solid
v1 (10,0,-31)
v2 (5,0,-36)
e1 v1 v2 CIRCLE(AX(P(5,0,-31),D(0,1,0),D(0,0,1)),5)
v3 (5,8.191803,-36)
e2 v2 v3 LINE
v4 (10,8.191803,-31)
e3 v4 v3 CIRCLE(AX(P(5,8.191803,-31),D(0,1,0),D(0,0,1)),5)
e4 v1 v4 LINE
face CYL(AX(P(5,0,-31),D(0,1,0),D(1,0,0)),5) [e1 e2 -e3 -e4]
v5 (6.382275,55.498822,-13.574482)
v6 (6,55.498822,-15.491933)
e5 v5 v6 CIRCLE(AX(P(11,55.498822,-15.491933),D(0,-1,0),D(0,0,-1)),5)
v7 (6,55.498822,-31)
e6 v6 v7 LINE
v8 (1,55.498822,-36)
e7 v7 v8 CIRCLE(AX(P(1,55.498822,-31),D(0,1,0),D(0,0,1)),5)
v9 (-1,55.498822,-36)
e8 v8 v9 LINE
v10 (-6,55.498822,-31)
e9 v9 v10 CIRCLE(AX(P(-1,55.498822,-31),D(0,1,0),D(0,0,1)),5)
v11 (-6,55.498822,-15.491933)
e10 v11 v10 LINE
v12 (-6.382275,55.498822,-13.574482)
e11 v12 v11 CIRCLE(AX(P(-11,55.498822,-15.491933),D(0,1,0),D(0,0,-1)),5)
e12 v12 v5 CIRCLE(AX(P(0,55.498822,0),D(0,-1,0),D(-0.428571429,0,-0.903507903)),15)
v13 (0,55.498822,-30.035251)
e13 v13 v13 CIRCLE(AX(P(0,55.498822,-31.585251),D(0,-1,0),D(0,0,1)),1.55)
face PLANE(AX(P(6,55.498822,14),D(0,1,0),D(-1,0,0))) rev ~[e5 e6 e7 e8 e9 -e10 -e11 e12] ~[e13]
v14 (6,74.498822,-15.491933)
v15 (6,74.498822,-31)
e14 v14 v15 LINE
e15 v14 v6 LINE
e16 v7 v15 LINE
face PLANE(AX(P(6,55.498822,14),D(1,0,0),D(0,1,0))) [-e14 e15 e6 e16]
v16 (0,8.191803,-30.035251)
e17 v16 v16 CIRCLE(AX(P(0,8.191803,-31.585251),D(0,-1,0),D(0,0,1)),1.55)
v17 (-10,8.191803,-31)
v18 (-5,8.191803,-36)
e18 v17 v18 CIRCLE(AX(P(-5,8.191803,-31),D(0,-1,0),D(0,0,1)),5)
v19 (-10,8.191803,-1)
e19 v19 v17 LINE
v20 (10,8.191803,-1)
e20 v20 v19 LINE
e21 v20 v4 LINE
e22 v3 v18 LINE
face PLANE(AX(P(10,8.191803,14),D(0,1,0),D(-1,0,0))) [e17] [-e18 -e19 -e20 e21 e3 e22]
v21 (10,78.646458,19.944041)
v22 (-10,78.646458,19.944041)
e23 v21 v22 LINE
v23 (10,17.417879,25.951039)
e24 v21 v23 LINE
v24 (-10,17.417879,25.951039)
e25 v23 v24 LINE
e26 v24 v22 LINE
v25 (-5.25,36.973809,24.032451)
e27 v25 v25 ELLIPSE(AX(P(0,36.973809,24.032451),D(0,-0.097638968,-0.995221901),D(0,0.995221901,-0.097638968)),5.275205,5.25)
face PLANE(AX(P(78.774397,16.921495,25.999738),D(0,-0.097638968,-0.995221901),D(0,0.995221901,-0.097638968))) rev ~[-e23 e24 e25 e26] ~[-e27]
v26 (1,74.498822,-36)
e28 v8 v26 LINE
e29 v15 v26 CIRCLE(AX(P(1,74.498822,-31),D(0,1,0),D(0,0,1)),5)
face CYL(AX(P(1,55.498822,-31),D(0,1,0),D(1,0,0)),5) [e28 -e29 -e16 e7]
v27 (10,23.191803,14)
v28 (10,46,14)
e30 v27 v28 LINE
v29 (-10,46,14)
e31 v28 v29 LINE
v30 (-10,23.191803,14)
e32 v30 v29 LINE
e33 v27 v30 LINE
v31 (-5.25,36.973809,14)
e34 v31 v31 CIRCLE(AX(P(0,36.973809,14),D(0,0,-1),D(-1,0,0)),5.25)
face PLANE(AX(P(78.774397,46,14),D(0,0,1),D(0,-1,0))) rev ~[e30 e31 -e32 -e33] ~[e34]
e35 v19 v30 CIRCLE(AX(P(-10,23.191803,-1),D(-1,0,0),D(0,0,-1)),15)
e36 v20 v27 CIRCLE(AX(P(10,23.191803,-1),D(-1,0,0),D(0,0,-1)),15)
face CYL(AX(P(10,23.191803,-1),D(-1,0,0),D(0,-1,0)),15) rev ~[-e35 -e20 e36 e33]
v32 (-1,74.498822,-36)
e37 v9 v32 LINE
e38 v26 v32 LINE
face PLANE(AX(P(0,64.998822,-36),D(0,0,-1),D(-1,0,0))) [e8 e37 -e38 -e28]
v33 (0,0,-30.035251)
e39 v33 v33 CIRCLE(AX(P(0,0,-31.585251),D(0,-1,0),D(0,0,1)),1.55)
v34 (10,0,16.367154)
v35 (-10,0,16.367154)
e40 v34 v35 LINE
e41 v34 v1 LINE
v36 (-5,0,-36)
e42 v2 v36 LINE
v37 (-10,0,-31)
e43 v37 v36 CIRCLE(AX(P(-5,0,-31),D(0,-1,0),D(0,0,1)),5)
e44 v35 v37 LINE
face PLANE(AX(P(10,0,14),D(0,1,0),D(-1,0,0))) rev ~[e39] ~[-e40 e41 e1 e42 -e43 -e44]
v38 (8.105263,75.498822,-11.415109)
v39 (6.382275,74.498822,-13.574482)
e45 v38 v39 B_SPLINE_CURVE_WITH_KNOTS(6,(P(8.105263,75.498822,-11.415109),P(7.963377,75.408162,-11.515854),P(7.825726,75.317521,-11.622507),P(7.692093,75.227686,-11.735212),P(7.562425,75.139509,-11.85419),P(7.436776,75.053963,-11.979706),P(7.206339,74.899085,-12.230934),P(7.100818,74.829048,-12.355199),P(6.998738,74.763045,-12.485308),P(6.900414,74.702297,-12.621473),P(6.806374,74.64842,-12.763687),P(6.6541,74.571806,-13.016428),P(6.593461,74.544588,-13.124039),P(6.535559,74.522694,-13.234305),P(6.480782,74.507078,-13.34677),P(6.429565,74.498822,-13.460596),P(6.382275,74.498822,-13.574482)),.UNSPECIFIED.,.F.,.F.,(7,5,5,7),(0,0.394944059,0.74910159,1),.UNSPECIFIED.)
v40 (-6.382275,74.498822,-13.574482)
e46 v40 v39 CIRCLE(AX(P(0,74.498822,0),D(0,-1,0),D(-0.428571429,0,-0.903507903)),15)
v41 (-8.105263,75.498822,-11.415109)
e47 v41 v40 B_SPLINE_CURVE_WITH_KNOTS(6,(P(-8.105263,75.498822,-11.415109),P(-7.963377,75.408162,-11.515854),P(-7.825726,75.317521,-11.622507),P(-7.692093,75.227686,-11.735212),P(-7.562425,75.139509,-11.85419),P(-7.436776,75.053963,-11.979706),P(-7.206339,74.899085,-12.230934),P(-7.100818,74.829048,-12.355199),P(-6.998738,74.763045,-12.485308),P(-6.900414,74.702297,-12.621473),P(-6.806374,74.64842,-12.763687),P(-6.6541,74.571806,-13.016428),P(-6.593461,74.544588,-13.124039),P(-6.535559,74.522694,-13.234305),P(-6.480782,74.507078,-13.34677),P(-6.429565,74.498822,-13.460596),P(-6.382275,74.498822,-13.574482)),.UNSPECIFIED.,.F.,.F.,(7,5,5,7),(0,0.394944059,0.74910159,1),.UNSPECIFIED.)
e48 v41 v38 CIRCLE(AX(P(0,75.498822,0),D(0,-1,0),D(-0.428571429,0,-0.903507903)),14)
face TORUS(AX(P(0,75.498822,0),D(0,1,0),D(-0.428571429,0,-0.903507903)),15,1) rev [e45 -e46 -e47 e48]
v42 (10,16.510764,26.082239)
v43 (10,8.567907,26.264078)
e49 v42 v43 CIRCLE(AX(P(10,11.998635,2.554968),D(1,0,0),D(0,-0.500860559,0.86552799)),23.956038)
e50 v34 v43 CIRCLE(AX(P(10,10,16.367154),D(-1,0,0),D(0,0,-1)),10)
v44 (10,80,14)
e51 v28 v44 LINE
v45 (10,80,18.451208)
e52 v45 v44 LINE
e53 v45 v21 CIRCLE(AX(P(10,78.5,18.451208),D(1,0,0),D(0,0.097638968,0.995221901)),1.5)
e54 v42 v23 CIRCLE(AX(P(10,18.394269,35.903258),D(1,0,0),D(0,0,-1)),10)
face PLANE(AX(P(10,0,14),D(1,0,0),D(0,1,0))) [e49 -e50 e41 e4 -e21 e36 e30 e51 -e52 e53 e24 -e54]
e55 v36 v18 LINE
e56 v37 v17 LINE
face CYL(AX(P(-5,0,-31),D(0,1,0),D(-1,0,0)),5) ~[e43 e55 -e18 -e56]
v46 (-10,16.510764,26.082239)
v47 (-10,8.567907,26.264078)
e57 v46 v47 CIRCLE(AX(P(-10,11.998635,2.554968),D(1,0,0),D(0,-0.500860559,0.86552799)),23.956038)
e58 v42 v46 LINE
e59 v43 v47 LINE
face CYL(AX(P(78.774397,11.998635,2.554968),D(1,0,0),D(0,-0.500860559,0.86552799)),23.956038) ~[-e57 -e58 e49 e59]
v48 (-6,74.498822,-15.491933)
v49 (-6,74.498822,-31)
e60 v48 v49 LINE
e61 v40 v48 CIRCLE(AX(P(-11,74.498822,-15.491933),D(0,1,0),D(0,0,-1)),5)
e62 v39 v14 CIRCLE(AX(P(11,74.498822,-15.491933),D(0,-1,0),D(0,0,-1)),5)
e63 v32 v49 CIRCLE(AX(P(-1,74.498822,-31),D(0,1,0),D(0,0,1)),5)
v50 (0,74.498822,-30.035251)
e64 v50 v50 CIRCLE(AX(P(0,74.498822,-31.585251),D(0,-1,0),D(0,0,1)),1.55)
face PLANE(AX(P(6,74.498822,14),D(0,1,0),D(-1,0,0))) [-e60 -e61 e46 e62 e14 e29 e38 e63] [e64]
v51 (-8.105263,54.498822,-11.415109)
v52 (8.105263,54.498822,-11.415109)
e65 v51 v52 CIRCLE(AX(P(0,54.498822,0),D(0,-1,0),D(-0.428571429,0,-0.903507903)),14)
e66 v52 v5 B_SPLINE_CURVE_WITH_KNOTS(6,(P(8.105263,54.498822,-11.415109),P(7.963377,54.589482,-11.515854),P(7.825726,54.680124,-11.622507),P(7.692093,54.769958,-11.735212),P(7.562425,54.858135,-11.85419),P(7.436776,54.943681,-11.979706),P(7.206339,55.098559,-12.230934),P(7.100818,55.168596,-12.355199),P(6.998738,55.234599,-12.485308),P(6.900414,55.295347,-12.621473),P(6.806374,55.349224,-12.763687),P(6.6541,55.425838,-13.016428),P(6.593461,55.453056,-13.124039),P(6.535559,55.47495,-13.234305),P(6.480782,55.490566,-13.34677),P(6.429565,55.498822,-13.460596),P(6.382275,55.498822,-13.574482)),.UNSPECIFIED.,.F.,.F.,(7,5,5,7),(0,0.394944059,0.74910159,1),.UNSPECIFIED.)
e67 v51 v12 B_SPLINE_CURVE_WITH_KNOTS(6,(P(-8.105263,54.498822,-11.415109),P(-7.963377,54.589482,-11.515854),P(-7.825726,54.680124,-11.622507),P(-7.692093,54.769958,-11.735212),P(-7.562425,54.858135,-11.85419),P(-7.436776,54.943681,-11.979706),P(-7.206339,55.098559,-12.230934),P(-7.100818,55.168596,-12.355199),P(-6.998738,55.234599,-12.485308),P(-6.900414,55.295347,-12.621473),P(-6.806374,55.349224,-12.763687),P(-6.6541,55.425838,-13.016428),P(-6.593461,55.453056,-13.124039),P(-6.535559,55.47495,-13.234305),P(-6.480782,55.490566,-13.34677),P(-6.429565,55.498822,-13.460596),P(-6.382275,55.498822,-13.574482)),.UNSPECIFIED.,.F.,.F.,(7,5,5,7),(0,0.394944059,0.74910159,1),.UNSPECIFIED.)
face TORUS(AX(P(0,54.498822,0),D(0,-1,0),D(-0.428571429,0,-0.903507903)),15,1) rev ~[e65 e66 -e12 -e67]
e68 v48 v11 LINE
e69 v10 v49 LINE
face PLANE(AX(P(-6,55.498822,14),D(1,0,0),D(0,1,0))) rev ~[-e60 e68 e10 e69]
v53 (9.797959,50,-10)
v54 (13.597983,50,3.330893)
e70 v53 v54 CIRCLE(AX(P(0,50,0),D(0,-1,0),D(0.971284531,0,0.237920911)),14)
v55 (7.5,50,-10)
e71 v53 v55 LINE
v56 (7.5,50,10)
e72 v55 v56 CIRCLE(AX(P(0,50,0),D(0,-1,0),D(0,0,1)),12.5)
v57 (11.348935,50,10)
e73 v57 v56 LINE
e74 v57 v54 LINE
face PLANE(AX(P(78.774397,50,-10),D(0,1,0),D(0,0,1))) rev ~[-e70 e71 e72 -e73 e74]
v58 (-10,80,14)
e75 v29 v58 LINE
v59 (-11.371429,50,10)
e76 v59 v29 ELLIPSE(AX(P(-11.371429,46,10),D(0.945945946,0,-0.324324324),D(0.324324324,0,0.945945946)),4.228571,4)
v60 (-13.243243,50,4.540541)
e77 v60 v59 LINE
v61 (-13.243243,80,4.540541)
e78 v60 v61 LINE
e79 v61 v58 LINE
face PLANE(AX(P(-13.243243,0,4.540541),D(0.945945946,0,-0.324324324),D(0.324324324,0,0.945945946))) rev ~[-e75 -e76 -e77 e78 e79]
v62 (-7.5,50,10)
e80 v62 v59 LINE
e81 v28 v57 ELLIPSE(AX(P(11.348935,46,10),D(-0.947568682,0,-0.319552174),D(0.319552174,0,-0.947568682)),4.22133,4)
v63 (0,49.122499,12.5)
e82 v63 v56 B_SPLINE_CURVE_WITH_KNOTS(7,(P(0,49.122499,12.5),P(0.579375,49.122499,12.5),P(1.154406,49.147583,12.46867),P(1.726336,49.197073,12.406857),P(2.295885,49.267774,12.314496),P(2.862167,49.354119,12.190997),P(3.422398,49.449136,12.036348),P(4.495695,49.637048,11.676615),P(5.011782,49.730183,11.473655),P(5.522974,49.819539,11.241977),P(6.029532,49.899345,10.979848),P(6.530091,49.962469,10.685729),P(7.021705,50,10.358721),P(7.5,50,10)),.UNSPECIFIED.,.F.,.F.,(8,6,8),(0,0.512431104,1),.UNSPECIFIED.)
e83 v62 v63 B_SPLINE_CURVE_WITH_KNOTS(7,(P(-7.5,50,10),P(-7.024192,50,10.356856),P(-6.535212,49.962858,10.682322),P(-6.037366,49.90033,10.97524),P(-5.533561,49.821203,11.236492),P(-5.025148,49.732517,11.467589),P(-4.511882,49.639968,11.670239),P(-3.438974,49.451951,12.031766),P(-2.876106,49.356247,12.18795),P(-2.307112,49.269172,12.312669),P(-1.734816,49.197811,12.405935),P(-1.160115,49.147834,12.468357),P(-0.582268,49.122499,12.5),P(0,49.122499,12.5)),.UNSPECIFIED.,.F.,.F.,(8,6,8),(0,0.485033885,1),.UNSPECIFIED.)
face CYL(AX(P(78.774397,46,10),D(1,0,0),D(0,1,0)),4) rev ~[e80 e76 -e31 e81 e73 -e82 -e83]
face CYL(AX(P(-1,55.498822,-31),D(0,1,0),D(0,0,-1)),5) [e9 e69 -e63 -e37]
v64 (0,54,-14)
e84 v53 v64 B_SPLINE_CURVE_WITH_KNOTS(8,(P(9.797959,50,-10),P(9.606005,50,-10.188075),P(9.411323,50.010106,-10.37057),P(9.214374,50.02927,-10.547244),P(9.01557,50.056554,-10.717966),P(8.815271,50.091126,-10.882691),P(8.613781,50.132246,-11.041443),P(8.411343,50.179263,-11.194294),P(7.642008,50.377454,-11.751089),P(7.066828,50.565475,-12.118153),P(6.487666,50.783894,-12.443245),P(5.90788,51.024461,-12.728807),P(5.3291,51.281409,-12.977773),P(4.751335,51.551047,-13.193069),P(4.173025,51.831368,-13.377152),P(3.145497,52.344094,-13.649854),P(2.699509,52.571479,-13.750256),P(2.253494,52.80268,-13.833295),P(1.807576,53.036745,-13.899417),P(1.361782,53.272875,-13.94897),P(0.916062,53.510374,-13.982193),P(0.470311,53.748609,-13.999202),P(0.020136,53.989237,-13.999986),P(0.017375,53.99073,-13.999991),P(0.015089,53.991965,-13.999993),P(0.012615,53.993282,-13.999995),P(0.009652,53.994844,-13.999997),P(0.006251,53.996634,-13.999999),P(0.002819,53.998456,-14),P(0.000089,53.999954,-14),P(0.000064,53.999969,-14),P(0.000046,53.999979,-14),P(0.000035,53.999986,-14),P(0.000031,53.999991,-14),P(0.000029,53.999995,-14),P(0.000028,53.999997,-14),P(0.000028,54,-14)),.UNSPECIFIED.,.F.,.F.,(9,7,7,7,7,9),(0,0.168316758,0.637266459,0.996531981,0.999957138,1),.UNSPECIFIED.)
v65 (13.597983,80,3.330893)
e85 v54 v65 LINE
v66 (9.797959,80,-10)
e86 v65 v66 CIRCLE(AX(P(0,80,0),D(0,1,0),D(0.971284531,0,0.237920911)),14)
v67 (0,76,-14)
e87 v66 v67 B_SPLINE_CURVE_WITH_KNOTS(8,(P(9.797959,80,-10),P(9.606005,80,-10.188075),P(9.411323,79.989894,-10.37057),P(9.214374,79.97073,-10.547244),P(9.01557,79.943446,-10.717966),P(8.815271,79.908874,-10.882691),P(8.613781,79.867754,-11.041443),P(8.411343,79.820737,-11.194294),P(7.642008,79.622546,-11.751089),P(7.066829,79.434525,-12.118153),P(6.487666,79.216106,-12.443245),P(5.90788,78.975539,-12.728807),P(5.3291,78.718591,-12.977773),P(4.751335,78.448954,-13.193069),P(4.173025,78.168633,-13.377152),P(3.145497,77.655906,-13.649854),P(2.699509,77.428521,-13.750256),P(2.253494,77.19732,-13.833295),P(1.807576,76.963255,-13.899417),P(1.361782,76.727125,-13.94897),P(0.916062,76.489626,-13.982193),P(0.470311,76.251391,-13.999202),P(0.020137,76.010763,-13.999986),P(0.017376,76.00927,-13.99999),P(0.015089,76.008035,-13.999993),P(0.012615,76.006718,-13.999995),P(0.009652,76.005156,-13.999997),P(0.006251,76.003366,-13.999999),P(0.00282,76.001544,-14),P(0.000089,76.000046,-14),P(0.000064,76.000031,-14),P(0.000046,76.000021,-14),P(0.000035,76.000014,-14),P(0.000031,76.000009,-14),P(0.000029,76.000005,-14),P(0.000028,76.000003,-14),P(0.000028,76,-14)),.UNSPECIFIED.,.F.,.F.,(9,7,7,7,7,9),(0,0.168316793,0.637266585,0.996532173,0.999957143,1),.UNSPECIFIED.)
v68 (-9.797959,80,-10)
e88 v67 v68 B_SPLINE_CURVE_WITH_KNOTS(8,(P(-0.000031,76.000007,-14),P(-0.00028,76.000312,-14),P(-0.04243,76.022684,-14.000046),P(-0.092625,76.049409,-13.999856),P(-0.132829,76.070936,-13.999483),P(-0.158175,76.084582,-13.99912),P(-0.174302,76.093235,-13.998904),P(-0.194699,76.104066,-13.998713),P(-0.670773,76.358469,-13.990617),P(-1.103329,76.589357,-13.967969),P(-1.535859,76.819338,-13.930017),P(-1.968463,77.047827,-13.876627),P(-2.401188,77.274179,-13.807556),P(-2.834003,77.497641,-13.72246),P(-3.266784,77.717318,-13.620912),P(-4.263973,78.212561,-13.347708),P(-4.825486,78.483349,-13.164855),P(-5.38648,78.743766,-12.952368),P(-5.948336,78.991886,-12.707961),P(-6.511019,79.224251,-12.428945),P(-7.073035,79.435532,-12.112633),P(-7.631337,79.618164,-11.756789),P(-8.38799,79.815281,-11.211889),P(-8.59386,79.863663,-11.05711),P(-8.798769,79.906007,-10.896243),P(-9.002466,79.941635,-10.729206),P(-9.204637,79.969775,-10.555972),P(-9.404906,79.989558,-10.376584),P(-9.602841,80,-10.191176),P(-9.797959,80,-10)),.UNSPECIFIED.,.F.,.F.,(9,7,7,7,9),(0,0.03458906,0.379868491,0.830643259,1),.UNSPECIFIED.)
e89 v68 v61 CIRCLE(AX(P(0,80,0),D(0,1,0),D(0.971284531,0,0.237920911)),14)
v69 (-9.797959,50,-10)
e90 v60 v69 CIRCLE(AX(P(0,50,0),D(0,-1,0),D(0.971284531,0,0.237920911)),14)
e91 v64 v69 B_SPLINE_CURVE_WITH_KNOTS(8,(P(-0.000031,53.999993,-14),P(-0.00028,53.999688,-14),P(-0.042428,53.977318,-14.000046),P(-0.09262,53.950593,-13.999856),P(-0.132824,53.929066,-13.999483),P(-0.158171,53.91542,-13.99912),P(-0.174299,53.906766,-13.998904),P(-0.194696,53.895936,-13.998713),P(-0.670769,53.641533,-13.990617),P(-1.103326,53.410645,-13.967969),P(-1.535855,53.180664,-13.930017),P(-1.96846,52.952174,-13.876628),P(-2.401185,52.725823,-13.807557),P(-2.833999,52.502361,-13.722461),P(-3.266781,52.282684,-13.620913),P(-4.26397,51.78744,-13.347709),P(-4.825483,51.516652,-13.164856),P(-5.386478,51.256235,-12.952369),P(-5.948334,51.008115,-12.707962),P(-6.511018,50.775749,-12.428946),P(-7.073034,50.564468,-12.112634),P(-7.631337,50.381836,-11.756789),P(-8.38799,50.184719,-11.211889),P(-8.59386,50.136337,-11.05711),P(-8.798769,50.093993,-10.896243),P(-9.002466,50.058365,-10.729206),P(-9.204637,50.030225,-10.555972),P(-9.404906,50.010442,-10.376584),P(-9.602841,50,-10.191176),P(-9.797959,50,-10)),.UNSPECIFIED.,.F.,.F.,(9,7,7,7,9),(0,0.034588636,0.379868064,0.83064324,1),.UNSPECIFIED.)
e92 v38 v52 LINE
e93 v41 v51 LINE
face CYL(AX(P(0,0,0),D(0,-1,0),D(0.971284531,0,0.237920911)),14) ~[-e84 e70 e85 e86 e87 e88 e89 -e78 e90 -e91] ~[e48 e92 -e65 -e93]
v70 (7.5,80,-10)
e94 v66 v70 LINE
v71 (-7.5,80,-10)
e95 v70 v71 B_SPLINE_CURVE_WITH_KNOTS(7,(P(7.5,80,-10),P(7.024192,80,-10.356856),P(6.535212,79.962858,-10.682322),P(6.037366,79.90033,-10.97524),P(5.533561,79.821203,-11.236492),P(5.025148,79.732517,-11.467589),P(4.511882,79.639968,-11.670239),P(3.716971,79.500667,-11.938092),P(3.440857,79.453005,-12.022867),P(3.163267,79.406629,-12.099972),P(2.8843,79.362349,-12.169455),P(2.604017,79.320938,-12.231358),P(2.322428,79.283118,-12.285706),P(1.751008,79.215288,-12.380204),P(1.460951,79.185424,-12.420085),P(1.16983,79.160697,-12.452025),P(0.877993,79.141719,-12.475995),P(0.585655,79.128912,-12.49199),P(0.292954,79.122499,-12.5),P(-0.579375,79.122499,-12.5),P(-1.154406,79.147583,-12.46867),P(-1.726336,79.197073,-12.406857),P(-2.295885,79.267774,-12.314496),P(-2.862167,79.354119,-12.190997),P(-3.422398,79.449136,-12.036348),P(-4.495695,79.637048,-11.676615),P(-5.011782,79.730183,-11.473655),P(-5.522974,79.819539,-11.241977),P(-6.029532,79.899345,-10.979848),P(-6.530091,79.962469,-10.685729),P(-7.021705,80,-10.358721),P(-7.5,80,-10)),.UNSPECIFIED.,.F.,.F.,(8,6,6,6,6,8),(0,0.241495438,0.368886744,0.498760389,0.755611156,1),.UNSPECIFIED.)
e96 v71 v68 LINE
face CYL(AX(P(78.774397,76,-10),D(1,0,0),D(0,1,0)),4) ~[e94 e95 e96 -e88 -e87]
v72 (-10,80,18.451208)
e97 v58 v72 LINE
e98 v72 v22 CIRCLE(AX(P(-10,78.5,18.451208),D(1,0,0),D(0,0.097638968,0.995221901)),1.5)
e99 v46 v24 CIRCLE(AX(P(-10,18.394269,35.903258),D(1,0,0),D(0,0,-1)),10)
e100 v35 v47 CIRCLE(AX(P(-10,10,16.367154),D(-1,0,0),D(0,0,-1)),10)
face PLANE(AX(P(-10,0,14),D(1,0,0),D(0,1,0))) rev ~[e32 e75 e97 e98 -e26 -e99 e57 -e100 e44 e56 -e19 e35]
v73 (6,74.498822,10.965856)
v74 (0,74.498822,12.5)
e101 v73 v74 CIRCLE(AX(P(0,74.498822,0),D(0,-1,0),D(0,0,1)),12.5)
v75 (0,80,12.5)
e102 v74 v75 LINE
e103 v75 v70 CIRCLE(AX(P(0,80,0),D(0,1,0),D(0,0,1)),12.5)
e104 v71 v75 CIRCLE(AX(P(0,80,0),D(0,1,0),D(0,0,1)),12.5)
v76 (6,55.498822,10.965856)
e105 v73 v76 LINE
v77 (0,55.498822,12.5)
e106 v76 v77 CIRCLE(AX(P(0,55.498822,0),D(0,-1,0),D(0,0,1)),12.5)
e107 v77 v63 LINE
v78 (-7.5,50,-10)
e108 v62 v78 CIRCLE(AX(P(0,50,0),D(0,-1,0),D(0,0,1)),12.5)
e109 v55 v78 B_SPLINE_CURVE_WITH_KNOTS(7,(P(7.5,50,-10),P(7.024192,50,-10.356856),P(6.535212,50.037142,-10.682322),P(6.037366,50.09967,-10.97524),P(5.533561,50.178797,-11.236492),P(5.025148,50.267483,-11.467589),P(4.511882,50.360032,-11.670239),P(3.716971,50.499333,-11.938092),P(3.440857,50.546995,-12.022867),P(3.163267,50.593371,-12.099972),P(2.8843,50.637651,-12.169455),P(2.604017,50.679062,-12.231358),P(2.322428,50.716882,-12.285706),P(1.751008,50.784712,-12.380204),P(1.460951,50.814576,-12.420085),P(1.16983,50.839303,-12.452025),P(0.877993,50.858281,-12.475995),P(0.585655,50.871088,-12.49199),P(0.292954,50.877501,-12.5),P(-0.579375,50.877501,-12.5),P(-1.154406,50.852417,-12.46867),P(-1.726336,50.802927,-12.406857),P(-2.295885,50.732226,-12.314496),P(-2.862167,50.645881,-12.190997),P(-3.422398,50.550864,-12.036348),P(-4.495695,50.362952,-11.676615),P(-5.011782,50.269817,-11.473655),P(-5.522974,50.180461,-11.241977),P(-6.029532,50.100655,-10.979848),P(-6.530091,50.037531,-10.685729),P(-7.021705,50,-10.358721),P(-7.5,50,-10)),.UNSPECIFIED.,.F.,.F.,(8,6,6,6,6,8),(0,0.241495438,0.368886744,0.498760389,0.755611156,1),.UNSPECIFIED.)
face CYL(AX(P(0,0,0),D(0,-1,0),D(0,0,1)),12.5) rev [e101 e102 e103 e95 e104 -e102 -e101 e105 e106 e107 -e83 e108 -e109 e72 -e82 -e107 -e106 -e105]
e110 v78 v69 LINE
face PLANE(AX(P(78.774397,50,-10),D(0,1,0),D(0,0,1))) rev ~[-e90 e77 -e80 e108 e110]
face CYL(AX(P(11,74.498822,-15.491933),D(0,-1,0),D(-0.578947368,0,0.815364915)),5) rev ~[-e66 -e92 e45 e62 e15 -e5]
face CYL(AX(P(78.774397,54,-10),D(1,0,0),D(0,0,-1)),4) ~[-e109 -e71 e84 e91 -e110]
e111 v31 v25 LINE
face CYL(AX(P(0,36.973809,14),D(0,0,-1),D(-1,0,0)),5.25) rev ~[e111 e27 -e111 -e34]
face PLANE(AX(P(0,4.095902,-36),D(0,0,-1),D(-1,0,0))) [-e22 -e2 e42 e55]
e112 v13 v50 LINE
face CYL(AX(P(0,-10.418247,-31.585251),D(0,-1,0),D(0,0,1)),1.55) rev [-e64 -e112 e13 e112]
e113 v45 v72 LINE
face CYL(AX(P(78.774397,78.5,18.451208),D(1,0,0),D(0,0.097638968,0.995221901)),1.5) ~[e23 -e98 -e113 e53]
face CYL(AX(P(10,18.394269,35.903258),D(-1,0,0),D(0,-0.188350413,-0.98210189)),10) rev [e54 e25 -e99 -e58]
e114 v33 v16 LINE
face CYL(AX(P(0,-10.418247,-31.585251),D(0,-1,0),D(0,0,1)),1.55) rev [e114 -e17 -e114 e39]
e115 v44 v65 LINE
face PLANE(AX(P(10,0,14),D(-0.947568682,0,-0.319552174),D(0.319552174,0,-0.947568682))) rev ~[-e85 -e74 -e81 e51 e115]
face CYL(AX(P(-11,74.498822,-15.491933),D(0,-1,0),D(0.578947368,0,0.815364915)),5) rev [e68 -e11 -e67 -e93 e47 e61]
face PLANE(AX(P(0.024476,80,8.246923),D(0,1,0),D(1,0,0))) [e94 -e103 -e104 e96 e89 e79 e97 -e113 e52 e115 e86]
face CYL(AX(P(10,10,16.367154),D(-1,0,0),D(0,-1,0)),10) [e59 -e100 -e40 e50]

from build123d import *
from OCP.BRepFilletAPI import BRepFilletAPI_MakeFillet

# Parameters (mm, degrees)
SKETCH1_R               = 12.5
BOSS_EXTRUDE1_DEPTH     = 80
CUT_EXTRUDE1_DEPTH      = 88.77439656
CUT_EXTRUDE1_DEPTH_BACK = 88.77439656
SKETCH4_OUTSIDE_W       = 61.818
SKETCH4_OUTSIDE_H       = 100.83
SKETCH6_W               = 20
SKETCH6_H               = 8.19180338
SKETCH6_W_2             = 12
SKETCH6_H_2             = 19
BOSS_EXTRUDE3_DEPTH     = 50
CUT_EXTRUDE2_START      = -30
SKETCH8_R               = 12.5
CUT_EXTRUDE2_DEPTH      = 30
FILLET1_R               = 5
FILLET2_R               = 15
FILLET3_R1              = 1
FILLET3_R2              = 5
CUT_EXTRUDE4_DEPTH      = 84.91706908
CUT_EXTRUDE4_DEPTH_BACK = 84.91706908
SKETCH11_R              = 1.55
FILLET4_R               = 10
SKETCH12_R              = 5.25
CUT_EXTRUDE5_DEPTH      = 96.372952239


with BuildPart() as part:
    # Sketch1 → Boss-Extrude1 (new body)
    with BuildSketch(Plane(origin=(0, 0, 0), x_dir=(1, 0, 0), z_dir=(0, 1, 0))):
        with BuildLine():
            Line((-13.243243243, -4.540540541), (-10, -14))
            Line((-10, -14), (-10, -26.98786193))
            Line((-10, -26.98786193), (10, -26.98786193))
            Line((10, -26.98786193), (10, -14))
            Line((10, -14), (13.597983435, -3.330892747))
            ThreePointArc((13.597983435, -3.330892747), (-0.630295246, 13.985804514), (-13.243243243, -4.540540541))
        make_face()
        with Locations(Location((0, 0, 0), (0, 0, 270))):
            Circle(SKETCH1_R, mode=Mode.SUBTRACT)
    extrude(amount=BOSS_EXTRUDE1_DEPTH)

    # Sketch4 outside → Cut-Extrude1 (cut, two sides: drawn at the far end of the back side and taken through both)
    with BuildSketch(Plane.ZY.offset(10).offset(-CUT_EXTRUDE1_DEPTH_BACK)):
        with Locations((6.494, 40)):
            Rectangle(SKETCH4_OUTSIDE_W, SKETCH4_OUTSIDE_H)
        with BuildLine():
            Line((-10, 50), (10, 50))
            ThreePointArc((10, 50), (12.828427125, 48.828427125), (14, 46))
            Line((14, 46), (14, 0))
            Line((14, 0), (23.289589956, 0))
            ThreePointArc((23.289589956, 0), (26.209542913, 8.210116535), (25.999737715, 16.921495334))
            Line((25.999737715, 16.921495334), (19.944041303, 78.646458452))
            ThreePointArc((19.944041303, 78.646458452), (19.458758034, 79.611235276), (18.451208451, 80))
            Line((18.451208451, 80), (14, 80))
            Line((14, 80), (-10, 80))
            ThreePointArc((-10, 80), (-12.828427125, 78.828427125), (-14, 76))
            Line((-14, 76), (-14, 54))
            ThreePointArc((-14, 54), (-12.828427125, 51.171572875), (-10, 50))
        make_face(mode=Mode.SUBTRACT)
    extrude(amount=CUT_EXTRUDE1_DEPTH + CUT_EXTRUDE1_DEPTH_BACK, mode=Mode.SUBTRACT)

    # Sketch6 → Boss-Extrude3 (add)
    with BuildSketch(Plane(origin=(0, 0, 14), x_dir=(-1, 0, 0), z_dir=(0, 0, -1))):
        with Locations((0, 4.09590169)):
            Rectangle(SKETCH6_W, SKETCH6_H)
        with Locations((0, 64.998822006)):
            Rectangle(SKETCH6_W_2, SKETCH6_H_2)
    extrude(amount=BOSS_EXTRUDE3_DEPTH)

    # Sketch8 → Cut-Extrude2 (cut)
    with BuildSketch(Plane(origin=(0, 80, 0), x_dir=(1, 0, 0), z_dir=(0, 1, 0)).offset(CUT_EXTRUDE2_START)):
        with Locations(Location((0, 0, 0), (0, 0, 53.130102354))):
            Circle(SKETCH8_R)
    extrude(amount=CUT_EXTRUDE2_DEPTH, mode=Mode.SUBTRACT)

    # Fillet1
    fillet1_edges = [part.edges().sort_by_distance(p)[0] for p in [
        (10, 4.09590169, -36),
        (-10, 4.09590169, -36),
        (6, 64.998822006, -36),
        (-6, 64.998822006, -36),
    ]]
    fillet(fillet1_edges, radius=FILLET1_R)

    # Fillet2
    fillet2_edges = [part.edges().sort_by_distance(p)[0] for p in [
        (0, 8.19180338, 14),
    ]]
    fillet(fillet2_edges, radius=FILLET2_R)

    # Fillet3: one fillet with a radius per group of edges: ONE call of the kernel's fillet builder (fillet() takes one radius for all edges)
    fillet3_edges_1 = [part.edges().sort_by_distance(p)[0] for p in [
        (0, 74.498822006, -14),
        (0, 55.498822006, -14),
    ]]
    fillet3_edges_2 = [part.edges().sort_by_distance(p)[0] for p in [
        (-6, 64.998822006, -12.649110641),
        (6, 64.998822006, -12.649110641),
    ]]
    fillet3 = BRepFilletAPI_MakeFillet(part.part.solid().wrapped)
    for e in fillet3_edges_1:
        fillet3.Add(FILLET3_R1, e.wrapped)
    for e in fillet3_edges_2:
        fillet3.Add(FILLET3_R2, e.wrapped)
    add(Compound.cast(fillet3.Shape()), mode=Mode.REPLACE)

    # Sketch11 → Cut-Extrude4 (cut, two sides: drawn at the far end of the back side and taken through both)
    with BuildSketch(Plane(origin=(0, 74.498822006, 0), x_dir=(1, 0, 0), z_dir=(0, 1, 0)).offset(-CUT_EXTRUDE4_DEPTH_BACK)):
        with Locations(Location((0, 31.585251235, 0), (0, 0, 270))):
            Circle(SKETCH11_R)
    extrude(amount=CUT_EXTRUDE4_DEPTH + CUT_EXTRUDE4_DEPTH_BACK, mode=Mode.SUBTRACT)

    # Fillet4
    fillet4_edges = [part.edges().sort_by_distance(p)[0] for p in [
        (0, 16.921495334, 25.999737715),
        (0, 0, 23.289589956),
    ]]
    fillet(fillet4_edges, radius=FILLET4_R)

    # Sketch12 → Cut-Extrude5 (cut, through all)
    with BuildSketch(Plane(origin=(0, 0, 14), x_dir=(-1, 0, 0), z_dir=(0, 0, -1))):
        with Locations((0, 36.973808643)):
            Circle(SKETCH12_R)
    extrude(amount=-CUT_EXTRUDE5_DEPTH, mode=Mode.SUBTRACT)


solid = part.part
